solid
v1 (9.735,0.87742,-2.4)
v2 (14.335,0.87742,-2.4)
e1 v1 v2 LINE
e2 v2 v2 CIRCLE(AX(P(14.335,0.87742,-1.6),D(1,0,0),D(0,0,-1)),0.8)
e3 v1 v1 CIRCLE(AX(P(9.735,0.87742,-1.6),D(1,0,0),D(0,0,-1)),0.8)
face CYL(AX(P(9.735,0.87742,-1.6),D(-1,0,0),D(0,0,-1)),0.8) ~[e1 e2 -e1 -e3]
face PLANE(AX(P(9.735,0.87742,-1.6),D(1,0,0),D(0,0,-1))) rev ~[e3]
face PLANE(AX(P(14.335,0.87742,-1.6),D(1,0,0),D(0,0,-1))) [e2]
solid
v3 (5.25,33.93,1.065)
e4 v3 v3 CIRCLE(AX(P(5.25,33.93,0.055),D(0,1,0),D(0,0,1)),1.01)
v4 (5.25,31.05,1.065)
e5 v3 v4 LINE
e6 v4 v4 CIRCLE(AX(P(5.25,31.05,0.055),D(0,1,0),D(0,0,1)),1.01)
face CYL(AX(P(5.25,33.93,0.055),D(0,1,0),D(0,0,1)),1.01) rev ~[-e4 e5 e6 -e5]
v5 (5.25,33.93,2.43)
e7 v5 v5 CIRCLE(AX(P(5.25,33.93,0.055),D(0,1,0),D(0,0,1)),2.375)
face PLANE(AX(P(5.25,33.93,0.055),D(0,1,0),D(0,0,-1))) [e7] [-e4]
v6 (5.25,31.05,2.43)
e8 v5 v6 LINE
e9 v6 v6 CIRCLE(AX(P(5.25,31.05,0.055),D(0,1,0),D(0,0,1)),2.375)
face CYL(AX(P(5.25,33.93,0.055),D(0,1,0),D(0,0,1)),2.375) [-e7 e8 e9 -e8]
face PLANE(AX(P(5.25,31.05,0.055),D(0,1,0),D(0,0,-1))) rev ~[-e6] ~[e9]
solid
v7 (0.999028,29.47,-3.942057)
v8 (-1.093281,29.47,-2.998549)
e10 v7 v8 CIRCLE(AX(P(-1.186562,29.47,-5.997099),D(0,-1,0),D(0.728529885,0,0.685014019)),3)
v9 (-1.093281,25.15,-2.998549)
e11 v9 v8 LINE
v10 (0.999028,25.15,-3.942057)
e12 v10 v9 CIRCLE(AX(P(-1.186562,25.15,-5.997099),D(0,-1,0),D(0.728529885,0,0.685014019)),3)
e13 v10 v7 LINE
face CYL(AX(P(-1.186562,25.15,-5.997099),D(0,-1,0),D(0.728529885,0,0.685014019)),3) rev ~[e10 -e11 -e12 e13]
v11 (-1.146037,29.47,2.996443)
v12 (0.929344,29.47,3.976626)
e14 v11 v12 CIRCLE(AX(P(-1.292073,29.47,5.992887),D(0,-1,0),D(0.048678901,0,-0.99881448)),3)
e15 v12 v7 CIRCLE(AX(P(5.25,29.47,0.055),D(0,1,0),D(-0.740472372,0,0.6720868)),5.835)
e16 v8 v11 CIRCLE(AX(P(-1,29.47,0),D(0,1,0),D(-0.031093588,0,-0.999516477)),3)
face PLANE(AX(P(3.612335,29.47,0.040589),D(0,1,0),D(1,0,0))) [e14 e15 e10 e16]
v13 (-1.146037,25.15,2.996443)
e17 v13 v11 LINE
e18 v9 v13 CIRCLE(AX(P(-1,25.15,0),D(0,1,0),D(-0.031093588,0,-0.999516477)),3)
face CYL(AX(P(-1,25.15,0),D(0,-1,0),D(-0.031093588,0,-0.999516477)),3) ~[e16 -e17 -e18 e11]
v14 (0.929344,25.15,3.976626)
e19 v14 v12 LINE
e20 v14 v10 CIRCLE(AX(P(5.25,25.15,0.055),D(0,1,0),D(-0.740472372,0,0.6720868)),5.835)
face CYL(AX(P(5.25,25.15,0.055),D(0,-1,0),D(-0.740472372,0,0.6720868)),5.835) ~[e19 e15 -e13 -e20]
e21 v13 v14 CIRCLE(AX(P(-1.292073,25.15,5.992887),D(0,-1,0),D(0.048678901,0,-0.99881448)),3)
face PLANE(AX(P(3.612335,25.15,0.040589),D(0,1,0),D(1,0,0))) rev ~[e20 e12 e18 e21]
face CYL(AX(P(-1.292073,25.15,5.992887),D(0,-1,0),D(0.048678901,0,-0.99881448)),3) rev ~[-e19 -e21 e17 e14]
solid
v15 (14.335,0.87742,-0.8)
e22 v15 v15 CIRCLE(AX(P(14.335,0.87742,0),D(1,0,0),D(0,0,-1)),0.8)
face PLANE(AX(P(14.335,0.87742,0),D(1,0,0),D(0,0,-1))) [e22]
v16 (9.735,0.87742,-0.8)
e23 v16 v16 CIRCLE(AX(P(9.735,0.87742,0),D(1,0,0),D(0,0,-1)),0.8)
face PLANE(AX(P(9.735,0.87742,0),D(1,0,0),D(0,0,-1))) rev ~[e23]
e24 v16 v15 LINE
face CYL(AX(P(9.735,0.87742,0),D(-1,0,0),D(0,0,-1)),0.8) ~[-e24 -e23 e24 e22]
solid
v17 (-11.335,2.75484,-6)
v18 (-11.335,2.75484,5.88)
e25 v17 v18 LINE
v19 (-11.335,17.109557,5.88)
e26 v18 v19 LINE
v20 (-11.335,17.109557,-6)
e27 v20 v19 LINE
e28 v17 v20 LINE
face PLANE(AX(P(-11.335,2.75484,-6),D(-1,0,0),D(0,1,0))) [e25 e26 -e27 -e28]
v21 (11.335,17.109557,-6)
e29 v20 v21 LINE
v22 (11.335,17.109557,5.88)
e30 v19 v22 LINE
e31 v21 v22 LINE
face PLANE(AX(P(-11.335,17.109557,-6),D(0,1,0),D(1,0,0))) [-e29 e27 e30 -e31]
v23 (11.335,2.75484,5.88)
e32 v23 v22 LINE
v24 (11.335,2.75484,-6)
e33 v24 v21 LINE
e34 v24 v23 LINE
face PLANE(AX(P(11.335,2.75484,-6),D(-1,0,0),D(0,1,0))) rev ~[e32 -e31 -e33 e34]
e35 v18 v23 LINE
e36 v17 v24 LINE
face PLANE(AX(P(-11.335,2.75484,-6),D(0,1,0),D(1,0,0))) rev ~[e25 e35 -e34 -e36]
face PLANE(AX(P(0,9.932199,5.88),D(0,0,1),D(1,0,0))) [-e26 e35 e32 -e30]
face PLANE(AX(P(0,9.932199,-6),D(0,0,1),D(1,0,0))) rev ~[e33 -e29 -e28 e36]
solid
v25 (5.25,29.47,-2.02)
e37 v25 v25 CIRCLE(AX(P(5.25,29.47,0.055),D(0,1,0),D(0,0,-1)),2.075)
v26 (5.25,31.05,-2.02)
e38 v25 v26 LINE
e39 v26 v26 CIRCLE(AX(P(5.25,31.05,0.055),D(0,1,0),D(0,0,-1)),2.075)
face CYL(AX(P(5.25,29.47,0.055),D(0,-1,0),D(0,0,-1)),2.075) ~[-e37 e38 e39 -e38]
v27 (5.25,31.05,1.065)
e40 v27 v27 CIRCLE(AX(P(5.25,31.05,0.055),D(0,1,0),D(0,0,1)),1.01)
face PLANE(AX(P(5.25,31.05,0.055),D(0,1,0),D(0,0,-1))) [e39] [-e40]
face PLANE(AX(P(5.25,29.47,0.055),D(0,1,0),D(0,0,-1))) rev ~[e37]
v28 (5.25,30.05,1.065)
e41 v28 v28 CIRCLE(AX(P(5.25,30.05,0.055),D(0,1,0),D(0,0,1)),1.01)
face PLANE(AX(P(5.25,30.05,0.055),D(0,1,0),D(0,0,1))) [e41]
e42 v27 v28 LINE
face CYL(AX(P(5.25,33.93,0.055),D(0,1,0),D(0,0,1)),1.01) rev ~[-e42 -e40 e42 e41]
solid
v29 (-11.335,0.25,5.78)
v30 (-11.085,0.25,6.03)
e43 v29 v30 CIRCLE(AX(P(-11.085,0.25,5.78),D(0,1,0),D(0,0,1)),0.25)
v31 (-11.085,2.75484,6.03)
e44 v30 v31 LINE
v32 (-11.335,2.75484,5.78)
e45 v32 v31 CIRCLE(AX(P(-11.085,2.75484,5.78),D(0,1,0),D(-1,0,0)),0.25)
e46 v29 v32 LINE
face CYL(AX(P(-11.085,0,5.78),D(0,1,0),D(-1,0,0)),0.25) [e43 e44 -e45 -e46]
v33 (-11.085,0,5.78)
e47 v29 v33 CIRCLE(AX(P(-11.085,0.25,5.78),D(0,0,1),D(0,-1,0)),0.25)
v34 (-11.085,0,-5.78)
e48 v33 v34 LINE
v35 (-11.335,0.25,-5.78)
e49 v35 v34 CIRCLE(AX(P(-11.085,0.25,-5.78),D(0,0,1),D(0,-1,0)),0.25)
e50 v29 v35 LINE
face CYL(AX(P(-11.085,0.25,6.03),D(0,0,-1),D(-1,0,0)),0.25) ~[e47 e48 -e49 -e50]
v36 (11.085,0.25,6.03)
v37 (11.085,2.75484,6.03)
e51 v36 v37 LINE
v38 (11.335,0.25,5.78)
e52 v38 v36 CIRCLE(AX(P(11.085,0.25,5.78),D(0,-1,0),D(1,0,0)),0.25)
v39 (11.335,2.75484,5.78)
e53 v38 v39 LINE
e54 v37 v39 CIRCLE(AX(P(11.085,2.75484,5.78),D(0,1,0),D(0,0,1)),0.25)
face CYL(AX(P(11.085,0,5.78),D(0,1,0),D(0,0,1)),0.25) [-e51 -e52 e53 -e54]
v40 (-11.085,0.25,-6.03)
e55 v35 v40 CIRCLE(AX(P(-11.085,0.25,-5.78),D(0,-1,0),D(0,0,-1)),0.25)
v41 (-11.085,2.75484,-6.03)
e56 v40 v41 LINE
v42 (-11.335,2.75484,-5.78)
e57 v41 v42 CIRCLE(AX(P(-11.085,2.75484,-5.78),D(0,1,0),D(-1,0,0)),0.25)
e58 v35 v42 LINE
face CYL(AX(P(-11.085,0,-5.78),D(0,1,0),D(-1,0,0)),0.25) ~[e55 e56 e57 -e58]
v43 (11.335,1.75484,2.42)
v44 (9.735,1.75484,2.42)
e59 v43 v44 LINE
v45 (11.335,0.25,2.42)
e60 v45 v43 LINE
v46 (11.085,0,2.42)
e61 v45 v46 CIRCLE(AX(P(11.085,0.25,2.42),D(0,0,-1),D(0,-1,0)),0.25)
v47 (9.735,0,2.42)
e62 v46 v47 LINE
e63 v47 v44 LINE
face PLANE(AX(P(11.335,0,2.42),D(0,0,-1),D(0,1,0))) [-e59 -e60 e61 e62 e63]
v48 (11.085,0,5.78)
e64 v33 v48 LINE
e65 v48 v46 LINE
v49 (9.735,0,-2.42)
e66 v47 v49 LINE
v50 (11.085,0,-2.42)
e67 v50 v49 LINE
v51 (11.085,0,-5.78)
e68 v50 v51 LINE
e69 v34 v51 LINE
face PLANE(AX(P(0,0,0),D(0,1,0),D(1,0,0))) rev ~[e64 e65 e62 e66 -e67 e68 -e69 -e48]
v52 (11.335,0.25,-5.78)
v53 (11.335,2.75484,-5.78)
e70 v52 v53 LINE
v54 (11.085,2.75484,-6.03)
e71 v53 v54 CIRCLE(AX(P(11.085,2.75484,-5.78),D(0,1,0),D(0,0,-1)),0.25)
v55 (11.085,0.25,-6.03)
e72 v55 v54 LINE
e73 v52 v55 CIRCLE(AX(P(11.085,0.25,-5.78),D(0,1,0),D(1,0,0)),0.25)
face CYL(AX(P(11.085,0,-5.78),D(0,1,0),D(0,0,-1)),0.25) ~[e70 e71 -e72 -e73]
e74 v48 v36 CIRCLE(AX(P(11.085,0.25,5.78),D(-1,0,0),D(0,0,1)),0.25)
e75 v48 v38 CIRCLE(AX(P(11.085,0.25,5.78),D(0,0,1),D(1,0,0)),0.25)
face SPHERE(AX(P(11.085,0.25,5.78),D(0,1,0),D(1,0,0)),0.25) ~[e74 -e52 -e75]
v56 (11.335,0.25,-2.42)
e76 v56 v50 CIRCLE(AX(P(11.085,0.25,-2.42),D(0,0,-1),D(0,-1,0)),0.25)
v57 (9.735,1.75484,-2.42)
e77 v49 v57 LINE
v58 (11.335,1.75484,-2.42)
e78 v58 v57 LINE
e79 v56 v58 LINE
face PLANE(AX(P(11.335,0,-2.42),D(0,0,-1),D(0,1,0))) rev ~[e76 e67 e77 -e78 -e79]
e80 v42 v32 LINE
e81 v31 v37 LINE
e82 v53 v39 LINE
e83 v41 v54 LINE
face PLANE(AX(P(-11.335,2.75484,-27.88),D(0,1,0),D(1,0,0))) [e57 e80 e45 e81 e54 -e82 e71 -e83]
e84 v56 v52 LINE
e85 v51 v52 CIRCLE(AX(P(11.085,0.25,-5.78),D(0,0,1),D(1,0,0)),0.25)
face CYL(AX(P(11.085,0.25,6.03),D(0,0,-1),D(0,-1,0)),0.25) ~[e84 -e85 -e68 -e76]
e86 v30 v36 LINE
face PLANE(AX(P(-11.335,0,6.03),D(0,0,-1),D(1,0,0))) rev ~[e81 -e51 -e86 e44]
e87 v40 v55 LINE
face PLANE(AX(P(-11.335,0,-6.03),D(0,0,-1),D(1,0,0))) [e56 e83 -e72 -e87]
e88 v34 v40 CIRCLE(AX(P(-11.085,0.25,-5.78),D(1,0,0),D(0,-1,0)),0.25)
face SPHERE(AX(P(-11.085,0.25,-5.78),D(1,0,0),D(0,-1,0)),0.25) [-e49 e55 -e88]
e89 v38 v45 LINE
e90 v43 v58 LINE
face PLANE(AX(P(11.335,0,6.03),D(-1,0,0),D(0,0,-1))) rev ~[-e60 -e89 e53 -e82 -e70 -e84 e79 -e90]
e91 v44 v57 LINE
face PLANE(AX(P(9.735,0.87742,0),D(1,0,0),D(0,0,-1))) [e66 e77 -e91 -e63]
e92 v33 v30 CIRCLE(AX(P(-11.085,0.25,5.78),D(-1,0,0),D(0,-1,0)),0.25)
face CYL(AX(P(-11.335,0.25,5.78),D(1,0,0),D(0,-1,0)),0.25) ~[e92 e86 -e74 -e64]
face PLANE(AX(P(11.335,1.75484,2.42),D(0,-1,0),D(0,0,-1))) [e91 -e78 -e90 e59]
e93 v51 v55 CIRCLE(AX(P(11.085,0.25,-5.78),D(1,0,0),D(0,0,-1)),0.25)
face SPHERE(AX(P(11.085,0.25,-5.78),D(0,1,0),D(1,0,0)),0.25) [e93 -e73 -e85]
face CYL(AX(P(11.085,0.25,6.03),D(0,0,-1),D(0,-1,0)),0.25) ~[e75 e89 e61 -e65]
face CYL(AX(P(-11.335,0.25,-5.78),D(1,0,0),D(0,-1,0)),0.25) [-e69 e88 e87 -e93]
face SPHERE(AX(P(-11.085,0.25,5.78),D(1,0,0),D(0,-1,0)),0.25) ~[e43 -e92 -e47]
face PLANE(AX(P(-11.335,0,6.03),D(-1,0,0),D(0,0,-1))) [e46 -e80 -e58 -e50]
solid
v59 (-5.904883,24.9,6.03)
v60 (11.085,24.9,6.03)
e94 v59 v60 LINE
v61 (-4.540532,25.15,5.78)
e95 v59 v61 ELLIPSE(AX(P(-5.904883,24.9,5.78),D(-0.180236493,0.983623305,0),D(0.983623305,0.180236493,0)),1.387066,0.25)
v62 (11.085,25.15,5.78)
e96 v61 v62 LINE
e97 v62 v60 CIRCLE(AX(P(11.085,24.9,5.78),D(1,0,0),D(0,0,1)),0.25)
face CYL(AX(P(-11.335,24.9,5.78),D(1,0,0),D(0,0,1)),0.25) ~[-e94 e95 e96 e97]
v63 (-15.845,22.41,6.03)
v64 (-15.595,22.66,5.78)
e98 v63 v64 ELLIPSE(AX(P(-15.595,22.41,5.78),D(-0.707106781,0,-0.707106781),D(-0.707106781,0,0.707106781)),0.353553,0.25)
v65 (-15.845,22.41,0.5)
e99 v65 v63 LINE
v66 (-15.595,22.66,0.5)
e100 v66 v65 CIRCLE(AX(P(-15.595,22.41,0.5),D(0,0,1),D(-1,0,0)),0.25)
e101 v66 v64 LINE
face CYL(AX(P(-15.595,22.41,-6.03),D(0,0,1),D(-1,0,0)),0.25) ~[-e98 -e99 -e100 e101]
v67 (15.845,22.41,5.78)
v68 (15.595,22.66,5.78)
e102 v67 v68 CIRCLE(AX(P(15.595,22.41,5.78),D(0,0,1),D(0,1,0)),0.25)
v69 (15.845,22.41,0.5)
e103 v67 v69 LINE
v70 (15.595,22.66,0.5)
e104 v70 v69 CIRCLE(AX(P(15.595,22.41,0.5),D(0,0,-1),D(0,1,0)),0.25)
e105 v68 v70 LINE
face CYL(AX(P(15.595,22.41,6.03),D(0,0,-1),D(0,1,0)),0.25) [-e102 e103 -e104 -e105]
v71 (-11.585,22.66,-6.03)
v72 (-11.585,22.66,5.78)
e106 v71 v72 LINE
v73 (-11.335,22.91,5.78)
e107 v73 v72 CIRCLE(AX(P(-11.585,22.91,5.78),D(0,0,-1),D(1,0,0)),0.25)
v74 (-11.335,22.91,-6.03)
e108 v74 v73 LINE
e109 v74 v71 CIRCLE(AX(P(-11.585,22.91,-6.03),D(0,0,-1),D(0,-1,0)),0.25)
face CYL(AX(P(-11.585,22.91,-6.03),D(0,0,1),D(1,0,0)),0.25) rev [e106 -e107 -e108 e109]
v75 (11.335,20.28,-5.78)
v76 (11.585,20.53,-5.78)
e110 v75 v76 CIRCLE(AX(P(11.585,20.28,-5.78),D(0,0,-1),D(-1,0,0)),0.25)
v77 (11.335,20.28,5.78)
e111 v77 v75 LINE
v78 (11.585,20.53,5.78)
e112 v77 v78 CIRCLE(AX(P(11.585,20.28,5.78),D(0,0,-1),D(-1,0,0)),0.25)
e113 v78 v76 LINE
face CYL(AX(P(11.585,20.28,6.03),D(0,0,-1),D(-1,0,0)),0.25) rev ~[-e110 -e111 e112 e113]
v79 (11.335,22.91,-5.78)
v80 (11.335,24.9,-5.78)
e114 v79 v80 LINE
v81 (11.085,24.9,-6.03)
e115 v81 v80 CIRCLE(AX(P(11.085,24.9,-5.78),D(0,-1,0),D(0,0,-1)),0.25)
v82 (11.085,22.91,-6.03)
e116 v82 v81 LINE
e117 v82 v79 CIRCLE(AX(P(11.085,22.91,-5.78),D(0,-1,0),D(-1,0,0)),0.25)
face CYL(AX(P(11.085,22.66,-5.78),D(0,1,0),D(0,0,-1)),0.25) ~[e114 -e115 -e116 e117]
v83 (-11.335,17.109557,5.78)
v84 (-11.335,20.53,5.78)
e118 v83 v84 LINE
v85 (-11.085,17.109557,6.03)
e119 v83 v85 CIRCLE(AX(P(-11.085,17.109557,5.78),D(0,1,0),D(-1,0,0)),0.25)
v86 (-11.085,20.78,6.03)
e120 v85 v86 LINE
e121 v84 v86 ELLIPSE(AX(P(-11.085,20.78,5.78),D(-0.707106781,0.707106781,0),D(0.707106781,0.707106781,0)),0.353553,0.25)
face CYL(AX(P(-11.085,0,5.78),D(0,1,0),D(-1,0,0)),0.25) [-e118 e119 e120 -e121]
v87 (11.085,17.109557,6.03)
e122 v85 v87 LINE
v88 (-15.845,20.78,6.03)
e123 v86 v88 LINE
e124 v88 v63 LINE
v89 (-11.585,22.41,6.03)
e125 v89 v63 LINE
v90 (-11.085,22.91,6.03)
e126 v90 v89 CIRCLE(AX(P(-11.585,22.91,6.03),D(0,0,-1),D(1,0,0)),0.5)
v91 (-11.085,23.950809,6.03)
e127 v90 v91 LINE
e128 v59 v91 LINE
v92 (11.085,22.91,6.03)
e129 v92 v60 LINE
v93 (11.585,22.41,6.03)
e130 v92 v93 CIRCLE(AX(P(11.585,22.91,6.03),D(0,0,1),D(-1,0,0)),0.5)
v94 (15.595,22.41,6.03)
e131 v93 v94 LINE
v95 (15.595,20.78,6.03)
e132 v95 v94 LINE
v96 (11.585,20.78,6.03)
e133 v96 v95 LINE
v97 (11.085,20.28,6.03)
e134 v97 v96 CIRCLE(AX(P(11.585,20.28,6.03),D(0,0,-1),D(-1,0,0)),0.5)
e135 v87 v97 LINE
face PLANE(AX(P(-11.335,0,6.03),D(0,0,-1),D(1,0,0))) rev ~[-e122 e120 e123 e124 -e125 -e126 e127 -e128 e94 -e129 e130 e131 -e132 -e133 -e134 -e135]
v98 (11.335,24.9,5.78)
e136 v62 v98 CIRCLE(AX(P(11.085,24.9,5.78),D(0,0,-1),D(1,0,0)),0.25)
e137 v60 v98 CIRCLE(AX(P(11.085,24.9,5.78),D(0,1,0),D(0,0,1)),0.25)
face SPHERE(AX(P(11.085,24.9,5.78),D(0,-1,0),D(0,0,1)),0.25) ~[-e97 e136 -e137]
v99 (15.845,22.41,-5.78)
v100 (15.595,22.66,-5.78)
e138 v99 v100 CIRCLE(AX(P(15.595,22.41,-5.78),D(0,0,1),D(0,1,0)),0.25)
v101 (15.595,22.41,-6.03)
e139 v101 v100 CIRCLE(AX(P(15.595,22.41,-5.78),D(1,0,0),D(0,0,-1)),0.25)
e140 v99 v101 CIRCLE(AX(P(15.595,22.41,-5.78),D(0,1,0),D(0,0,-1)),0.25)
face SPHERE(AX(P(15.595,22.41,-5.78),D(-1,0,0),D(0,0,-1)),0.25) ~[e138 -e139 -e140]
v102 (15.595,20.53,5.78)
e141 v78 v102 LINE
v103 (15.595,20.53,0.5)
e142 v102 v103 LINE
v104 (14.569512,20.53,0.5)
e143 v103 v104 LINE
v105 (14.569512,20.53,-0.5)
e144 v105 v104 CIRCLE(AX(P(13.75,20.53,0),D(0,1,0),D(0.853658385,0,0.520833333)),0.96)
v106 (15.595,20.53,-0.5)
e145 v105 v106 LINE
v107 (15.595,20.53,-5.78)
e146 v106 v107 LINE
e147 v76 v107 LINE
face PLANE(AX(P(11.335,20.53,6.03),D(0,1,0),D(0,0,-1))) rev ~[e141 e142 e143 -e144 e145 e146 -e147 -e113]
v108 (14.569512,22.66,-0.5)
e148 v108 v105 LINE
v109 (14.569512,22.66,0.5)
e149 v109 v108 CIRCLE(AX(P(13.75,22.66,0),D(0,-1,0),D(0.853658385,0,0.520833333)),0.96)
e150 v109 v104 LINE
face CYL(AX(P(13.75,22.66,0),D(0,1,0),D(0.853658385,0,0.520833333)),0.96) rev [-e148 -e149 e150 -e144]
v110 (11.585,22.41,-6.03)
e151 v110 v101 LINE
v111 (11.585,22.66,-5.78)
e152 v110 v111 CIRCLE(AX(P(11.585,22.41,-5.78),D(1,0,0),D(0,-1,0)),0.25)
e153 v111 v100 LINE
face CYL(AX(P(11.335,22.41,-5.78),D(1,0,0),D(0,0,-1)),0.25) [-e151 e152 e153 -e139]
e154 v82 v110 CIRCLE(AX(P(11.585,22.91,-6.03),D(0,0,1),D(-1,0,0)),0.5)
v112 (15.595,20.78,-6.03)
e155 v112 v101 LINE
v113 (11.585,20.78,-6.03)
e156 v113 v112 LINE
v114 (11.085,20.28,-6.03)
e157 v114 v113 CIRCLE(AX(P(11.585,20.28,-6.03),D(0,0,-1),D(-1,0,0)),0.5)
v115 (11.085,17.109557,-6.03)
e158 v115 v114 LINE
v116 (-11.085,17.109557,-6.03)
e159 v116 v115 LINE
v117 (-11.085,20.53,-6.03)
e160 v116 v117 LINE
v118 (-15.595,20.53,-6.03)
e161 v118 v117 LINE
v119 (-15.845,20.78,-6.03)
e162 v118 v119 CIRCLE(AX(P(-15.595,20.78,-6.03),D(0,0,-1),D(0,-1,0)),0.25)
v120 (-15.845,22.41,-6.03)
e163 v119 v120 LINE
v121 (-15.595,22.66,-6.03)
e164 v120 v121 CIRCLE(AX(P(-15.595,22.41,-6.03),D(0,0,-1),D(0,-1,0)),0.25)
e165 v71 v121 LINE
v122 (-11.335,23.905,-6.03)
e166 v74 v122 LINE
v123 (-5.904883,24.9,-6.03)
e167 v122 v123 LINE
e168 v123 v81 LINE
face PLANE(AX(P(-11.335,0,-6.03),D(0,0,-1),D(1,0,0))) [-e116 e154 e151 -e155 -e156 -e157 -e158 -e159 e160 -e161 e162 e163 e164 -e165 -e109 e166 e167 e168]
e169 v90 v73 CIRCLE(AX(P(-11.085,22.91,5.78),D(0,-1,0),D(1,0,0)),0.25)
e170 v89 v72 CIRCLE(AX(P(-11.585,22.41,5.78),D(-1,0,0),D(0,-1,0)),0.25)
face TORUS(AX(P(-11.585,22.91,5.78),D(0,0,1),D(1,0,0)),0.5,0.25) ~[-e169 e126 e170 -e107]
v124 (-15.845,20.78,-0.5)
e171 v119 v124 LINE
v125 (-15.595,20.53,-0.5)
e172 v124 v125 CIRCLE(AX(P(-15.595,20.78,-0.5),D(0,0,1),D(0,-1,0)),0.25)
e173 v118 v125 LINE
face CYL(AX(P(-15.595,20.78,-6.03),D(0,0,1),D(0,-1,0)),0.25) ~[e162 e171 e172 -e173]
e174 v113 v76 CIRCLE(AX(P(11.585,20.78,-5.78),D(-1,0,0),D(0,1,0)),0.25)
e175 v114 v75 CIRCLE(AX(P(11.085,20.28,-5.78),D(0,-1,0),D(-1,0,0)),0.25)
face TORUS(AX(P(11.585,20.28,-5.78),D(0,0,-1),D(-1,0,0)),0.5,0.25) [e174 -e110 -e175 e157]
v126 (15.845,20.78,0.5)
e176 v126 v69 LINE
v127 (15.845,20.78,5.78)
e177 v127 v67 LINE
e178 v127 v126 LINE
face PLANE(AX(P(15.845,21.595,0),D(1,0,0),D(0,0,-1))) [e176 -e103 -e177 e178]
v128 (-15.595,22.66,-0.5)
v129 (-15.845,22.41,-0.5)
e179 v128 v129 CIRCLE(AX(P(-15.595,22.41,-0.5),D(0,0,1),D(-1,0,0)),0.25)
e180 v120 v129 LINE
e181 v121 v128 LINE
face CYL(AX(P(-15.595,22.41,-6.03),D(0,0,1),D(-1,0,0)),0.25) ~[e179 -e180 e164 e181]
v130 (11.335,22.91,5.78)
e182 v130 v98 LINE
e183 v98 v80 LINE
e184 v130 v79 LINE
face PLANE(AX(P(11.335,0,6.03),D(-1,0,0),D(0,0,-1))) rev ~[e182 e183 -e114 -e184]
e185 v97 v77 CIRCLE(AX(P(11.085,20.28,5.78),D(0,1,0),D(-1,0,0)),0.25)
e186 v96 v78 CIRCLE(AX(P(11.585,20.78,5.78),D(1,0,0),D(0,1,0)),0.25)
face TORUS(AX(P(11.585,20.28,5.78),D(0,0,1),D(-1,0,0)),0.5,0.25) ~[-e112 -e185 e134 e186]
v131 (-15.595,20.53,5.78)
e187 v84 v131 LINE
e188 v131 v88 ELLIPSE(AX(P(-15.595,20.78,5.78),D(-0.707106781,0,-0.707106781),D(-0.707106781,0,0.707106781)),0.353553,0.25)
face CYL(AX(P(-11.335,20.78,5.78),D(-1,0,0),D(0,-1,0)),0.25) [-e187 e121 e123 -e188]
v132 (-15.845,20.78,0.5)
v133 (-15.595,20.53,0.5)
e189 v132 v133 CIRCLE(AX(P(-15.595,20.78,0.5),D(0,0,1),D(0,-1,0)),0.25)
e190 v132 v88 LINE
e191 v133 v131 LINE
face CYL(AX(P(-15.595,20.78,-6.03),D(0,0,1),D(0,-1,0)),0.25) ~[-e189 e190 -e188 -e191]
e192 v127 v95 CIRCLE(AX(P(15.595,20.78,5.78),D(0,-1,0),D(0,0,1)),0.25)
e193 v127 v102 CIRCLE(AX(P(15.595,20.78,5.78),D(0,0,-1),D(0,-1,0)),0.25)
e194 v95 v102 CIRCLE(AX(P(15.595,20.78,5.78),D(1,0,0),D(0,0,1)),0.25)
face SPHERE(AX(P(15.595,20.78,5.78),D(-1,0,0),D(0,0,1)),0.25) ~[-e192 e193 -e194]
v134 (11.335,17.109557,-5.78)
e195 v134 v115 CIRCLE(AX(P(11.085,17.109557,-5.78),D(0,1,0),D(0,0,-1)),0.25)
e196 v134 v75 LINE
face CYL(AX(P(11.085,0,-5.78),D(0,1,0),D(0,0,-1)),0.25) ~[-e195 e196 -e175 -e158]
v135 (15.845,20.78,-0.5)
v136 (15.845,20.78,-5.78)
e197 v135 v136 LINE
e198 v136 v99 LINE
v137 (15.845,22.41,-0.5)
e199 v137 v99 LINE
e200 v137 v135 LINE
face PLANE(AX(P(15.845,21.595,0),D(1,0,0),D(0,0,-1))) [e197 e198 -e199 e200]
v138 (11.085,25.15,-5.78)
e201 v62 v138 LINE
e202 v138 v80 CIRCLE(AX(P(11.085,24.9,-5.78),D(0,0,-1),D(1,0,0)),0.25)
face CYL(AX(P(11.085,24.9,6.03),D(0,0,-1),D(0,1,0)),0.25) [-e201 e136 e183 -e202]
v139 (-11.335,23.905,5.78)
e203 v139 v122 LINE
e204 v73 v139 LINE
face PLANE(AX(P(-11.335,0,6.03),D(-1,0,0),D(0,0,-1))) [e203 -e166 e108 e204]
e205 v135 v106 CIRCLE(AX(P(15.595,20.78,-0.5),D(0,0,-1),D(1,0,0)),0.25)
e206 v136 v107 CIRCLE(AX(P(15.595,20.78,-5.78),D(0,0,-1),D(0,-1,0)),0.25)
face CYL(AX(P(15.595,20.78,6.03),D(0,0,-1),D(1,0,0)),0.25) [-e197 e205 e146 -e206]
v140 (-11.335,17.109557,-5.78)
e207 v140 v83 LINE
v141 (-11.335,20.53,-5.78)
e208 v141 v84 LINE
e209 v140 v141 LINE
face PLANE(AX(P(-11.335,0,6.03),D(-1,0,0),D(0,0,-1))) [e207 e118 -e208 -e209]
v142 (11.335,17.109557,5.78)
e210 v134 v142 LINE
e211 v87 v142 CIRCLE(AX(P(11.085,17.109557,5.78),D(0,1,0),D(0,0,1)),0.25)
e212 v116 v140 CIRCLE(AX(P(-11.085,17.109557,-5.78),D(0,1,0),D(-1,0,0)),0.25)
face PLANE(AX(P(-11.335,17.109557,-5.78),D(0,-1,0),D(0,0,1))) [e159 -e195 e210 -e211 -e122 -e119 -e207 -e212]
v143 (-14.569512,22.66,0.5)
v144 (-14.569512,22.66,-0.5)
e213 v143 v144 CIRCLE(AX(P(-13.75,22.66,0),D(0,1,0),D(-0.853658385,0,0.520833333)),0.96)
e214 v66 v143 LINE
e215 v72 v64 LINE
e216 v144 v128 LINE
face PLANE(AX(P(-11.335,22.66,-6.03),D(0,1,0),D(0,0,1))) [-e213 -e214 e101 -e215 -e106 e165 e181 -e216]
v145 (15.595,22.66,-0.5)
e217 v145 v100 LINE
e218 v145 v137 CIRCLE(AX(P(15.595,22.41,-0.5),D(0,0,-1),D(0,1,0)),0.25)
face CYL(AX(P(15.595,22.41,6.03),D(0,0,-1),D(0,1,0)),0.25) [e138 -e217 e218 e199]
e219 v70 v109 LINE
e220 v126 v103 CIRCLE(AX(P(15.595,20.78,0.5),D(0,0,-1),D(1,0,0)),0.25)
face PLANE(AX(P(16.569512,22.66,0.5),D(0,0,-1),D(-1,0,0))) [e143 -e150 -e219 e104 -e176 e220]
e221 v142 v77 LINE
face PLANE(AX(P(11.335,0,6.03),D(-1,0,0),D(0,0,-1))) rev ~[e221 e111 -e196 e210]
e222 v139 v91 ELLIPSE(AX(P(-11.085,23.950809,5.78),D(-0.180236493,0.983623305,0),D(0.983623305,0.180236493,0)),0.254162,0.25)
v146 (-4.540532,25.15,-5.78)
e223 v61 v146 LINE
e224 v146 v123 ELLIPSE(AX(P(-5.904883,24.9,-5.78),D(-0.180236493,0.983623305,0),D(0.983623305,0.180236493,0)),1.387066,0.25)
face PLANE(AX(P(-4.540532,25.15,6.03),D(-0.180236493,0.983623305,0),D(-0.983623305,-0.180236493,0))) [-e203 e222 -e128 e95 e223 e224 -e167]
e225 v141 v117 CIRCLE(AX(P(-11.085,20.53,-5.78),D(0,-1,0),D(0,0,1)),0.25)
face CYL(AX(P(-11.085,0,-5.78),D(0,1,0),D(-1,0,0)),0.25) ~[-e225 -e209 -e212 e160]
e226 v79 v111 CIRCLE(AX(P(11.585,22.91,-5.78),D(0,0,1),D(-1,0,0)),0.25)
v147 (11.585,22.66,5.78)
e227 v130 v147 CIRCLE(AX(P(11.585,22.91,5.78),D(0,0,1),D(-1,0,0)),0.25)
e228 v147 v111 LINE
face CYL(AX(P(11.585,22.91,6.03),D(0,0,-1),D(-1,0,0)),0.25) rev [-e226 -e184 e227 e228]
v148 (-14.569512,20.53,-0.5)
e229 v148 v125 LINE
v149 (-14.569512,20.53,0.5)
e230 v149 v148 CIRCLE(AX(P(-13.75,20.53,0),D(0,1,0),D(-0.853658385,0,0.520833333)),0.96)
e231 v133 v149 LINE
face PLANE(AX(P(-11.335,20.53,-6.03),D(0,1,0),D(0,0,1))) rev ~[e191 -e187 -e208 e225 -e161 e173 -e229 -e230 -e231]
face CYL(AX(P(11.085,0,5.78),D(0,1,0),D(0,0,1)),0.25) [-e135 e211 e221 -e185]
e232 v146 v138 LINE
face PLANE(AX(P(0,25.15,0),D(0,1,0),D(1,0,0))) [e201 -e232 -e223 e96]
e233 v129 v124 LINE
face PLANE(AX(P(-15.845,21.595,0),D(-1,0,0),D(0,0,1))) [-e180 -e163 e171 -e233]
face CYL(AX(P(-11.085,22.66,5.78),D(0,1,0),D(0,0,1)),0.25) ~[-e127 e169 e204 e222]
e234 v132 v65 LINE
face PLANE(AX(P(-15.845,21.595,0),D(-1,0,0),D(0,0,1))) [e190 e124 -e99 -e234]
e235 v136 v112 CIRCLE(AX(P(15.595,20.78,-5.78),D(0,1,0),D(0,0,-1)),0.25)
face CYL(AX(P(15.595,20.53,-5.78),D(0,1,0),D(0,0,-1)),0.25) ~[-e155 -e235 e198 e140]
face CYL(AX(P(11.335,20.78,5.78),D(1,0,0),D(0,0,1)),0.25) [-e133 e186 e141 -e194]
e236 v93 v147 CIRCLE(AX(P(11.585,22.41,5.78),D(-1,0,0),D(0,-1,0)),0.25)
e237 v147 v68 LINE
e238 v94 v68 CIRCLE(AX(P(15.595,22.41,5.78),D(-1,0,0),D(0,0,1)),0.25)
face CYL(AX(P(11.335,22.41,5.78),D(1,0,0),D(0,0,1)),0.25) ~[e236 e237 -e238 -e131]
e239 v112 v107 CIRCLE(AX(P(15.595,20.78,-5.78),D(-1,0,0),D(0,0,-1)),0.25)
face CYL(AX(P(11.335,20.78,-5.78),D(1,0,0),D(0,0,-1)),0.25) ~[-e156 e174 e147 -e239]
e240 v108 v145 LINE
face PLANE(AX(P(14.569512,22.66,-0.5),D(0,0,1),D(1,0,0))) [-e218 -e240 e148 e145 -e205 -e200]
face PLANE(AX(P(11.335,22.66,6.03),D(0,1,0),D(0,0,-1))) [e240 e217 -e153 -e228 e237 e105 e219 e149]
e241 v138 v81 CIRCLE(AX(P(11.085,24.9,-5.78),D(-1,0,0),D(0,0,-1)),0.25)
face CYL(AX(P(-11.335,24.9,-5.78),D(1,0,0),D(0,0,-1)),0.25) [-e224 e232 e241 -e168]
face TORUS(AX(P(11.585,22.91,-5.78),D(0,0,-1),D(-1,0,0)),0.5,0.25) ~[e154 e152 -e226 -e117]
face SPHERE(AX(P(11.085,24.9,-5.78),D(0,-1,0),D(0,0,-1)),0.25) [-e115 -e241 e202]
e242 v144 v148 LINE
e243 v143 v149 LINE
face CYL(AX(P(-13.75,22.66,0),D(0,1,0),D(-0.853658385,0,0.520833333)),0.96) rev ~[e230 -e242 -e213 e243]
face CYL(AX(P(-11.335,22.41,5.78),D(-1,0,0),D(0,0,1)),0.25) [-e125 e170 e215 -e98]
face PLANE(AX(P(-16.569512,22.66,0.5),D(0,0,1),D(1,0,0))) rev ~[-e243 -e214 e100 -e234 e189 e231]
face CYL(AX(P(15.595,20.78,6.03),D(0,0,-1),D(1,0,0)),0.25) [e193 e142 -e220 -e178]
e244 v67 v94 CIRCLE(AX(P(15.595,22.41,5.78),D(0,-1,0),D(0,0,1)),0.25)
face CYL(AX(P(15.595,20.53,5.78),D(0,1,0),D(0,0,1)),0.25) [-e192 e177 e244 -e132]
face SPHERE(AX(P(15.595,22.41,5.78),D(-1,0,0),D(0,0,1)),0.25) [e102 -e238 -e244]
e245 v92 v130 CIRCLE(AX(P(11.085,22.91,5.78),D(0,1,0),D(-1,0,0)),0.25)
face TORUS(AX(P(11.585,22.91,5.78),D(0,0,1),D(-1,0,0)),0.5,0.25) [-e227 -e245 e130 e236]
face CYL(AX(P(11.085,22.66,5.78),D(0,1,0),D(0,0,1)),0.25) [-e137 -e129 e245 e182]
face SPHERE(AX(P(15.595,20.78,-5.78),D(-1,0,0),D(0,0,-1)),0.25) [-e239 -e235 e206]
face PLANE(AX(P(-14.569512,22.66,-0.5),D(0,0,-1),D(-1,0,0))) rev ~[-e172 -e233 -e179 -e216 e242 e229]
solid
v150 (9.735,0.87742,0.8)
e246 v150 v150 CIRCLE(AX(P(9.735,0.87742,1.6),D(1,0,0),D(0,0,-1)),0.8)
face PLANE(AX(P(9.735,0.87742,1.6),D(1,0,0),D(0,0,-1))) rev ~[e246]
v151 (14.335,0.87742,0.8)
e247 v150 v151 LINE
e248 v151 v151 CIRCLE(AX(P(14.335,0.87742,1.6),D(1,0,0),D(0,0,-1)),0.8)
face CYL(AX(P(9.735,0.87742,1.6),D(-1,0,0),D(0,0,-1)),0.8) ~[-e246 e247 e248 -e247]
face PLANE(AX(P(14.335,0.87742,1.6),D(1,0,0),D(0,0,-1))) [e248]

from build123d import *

# Parameters (mm, degrees)
CROQUIS1_W                   = 22.67
CROQUIS1_H                   = 12.06
SALIENTE_EXTRUIR1_DEPTH      = 25.15
CROQUIS2_W                   = 12.06
CROQUIS2_H                   = 2.13
SALIENTE_EXTRUIR2_DEPTH      = 4.51
CROQUIS5_W                   = 12.06
CROQUIS5_H                   = 2.13
SALIENTE_EXTRUIR3_DEPTH      = 4.51
REDONDEO1_R                  = 0.25
CORTAR_EXTRUIR12_DEPTH       = 4.51
SALIENTE_EXTRUIR4_DEPTH      = 4.32
CROQUIS9_R                   = 2.075
SALIENTE_EXTRUIR5_DEPTH      = 1.58
CROQUIS10_R                  = 2.385
SALIENTE_EXTRUIR6_DEPTH      = 2.88
CROQUIS11_R                  = 1.01
CORTAR_EXTRUIR13_DEPTH       = 3.88
CROQUIS12_R                  = 2.385
CROQUIS12_R_2                = 2.375
CORTAR_EXTRUIR14_DEPTH       = 2.88
CORTAR_EXTRUIR15_DEPTH       = 16.88
CROQUIS14_W                  = 22.17
CROQUIS14_H                  = 14.33
CORTAR_EXTRUIR16_DEPTH       = 16.88
CROQUIS16_W                  = 11.56
CROQUIS16_H                  = 14.354716837
CORTAR_EXTRUIR17_DEPTH       = 27.88
CORTAR_EXTRUIR18_DEPTH       = 27.88
CORTAR_EXTRUIR18_DEPTH_BACK  = 27.88
CROQUIS17_W                  = 22.67
CROQUIS17_H                  = 14.354716837
SALIENTE_EXTRUIR7_DEPTH      = 5.88
SALIENTE_EXTRUIR7_DEPTH_BACK = 6
CROQUIS18_W                  = 22.67
CROQUIS18_H                  = 14.354716837
CROQUIS19_W                  = 4.84
CROQUIS19_H                  = 1.754840309
CORTAR_EXTRUIR19_DEPTH       = 1.6
SALIENTE_EXTRUIR8_DEPTH      = 4.6
CROQUIS20_R                  = 0.8
SALIENTE_EXTRUIR8_2_DEPTH    = 4.6
SALIENTE_EXTRUIR8_3_DEPTH    = 4.6


with BuildPart() as part:
    # Croquis1 → Saliente-Extruir1 (new body)
    with BuildSketch(Plane(origin=(0, 0, 0), x_dir=(1, 0, 0), z_dir=(0, 1, 0))):
        Rectangle(CROQUIS1_W, CROQUIS1_H)
    extrude(amount=SALIENTE_EXTRUIR1_DEPTH)

    # Croquis2 → Saliente-Extruir2 (add)
    with BuildSketch(Plane(origin=(11.335, 0, 0), x_dir=(0, 0, -1), z_dir=(1, 0, 0))):
        with Locations((0, 21.595)):
            Rectangle(CROQUIS2_W, CROQUIS2_H)
    extrude(amount=SALIENTE_EXTRUIR2_DEPTH)

    # Croquis5 → Saliente-Extruir3 (add)
    with BuildSketch(Plane.ZY.offset(11.335)):
        with Locations((0, 21.595)):
            Rectangle(CROQUIS5_W, CROQUIS5_H)
    extrude(amount=SALIENTE_EXTRUIR3_DEPTH)

    # Redondeo1
    redondeo1_edges = [part.edges().sort_by_distance(p)[0] for p in [
        (-11.335, 23.905, 6.03),
        (11.335, 10.265, 6.03),
        (11.335, 23.905, 6.03),
        (11.335, 23.905, -6.03),
        (11.335, 10.265, -6.03),
        (11.335, 0, 0),
        (0, 0, -6.03),
        (0, 0, 6.03),
        (-11.335, 0, 0),
        (-11.335, 10.265, -6.03),
        (-11.335, 10.265, 6.03),
        (-13.59, 20.53, 6.03),
        (-13.59, 22.66, 6.03),
        (0, 25.15, -6.03),
        (0, 25.15, 6.03),
        (-11.335, 22.66, 0),
        (-11.335, 25.15, 0),
        (11.335, 25.15, 0),
        (13.59, 20.53, 6.03),
        (13.59, 22.66, 6.03),
        (13.59, 22.66, -6.03),
        (13.59, 20.53, -6.03),
        (11.335, 20.53, 0),
        (11.335, 22.66, 0),
        (15.845, 21.595, -6.03),
        (15.845, 21.595, 6.03),
        (15.845, 20.53, 0),
        (15.845, 22.66, 0),
        (-15.845, 20.53, 0),
        (-15.845, 22.66, 0),
    ]]
    fillet(redondeo1_edges, radius=REDONDEO1_R)

    # Croquis6 → Cortar-Extruir12 (cut)
    with BuildSketch(Plane(origin=(0, 22.66, 0), x_dir=(1, 0, 0), z_dir=(0, 1, 0))):
        with BuildLine():
            Line((-14.56951205, 0.5), (-16.56951205, 0.5))
            Line((-16.56951205, 0.5), (-16.56951205, -0.5))
            Line((-16.56951205, -0.5), (-14.56951205, -0.5))
            ThreePointArc((-14.56951205, -0.5), (-12.79, 0), (-14.56951205, 0.5))
        make_face()
        with BuildLine():
            Line((14.56951205, 0.5), (16.56951205, 0.5))
            Line((16.56951205, 0.5), (16.56951205, -0.5))
            Line((16.56951205, -0.5), (14.56951205, -0.5))
            ThreePointArc((14.56951205, -0.5), (12.79, 0), (14.56951205, 0.5))
        make_face()
    extrude(amount=-CORTAR_EXTRUIR12_DEPTH, mode=Mode.SUBTRACT)

    # Croquis13 → Cortar-Extruir15 (cut)
    with BuildSketch(Plane.XY.offset(6.03)):
        Polygon((-4.540532383, 25.15), (-11.335, 23.905), (-11.335, 25.15), align=None)
    extrude(amount=-CORTAR_EXTRUIR15_DEPTH, mode=Mode.SUBTRACT)

    # Croquis14 → Cortar-Extruir16 (cut)
    with BuildSketch(Plane.XY.offset(6.03)):
        with Locations((0, 9.935)):
            Rectangle(CROQUIS14_W, CROQUIS14_H)
    extrude(amount=-CORTAR_EXTRUIR16_DEPTH, mode=Mode.SUBTRACT)

    # Croquis16 → Cortar-Extruir17 (cut)
    with BuildSketch(Plane.ZY.offset(11.335)):
        with Locations((0, 9.932198727)):
            Rectangle(CROQUIS16_W, CROQUIS16_H)
    extrude(amount=-CORTAR_EXTRUIR17_DEPTH, mode=Mode.SUBTRACT)

    # Croquis17 → Cortar-Extruir18 (cut, two sides: drawn at the far end of the back side and taken through both)
    with BuildSketch(Plane.XY.offset(-CORTAR_EXTRUIR18_DEPTH_BACK)):
        with Locations((0, 9.932198727)):
            Rectangle(CROQUIS17_W, CROQUIS17_H)
    extrude(amount=CORTAR_EXTRUIR18_DEPTH + CORTAR_EXTRUIR18_DEPTH_BACK, mode=Mode.SUBTRACT)


with BuildPart() as body_2:
    # Croquis8 → Saliente-Extruir4 (new body)
    with BuildSketch(Plane(origin=(0, 25.15, 0), x_dir=(1, 0, 0), z_dir=(0, 1, 0))):
        with BuildLine():
            ThreePointArc((0.929343711, -3.976626478), (11.084774082, -0.106346012), (0.999028124, 3.942056806))
            ThreePointArc((0.999028124, 3.942056806), (0.046671675, 3.262297983), (-1.093280765, 2.998549432))
            ThreePointArc((-1.093280765, 2.998549432), (-3.999883847, 0.026398978), (-1.146036702, -2.996443439))
            ThreePointArc((-1.146036702, -2.996443439), (-0.01090242, -3.280212753), (0.929343711, -3.976626478))
        make_face()
    extrude(amount=SALIENTE_EXTRUIR4_DEPTH)


with BuildPart() as body_3:
    # Croquis9 → Saliente-Extruir5 (new body)
    with BuildSketch(Plane(origin=(0, 29.47, 0), x_dir=(1, 0, 0), z_dir=(0, 1, 0))):
        with Locations((5.25, -0.055)):
            Circle(CROQUIS9_R)
    extrude(amount=SALIENTE_EXTRUIR5_DEPTH)


with BuildPart() as body_4:
    # Croquis10 → Saliente-Extruir6 (new body)
    with BuildSketch(Plane(origin=(0, 31.05, 0), x_dir=(1, 0, 0), z_dir=(0, 1, 0))):
        with Locations((5.25, -0.055)):
            Circle(CROQUIS10_R)
    extrude(amount=SALIENTE_EXTRUIR6_DEPTH)


with BuildPart() as cortar_extruir13_tool:
    # Croquis11 → Cortar-Extruir13 (new body)
    with BuildSketch(Plane(origin=(0, 33.93, 0), x_dir=(1, 0, 0), z_dir=(0, 1, 0))):
        with Locations((5.25, -0.055)):
            Circle(CROQUIS11_R)
    extrude(amount=-CORTAR_EXTRUIR13_DEPTH)


with BuildPart() as body_3_1:
    add(body_3.part)

    # Cortar-Extruir13: cut by cortar_extruir13_tool
    add(cortar_extruir13_tool.part, mode=Mode.SUBTRACT)


with BuildPart() as body_4_1:
    add(body_4.part)

    # Cortar-Extruir13: cut by cortar_extruir13_tool
    add(cortar_extruir13_tool.part, mode=Mode.SUBTRACT)

    # Croquis12 → Cortar-Extruir14 (cut)
    with BuildSketch(Plane(origin=(0, 33.93, 0), x_dir=(1, 0, 0), z_dir=(0, 1, 0))):
        with Locations((5.25, -0.055)):
            Circle(CROQUIS12_R)
        with Locations((5.25, -0.055)):
            Circle(CROQUIS12_R_2, mode=Mode.SUBTRACT)
    extrude(amount=-CORTAR_EXTRUIR14_DEPTH, mode=Mode.SUBTRACT)


with BuildPart() as cortar_extruir18_piece_1:
    # of the separate pieces the step leaves, piece 1, a body of its own (cortar_extruir18_pieces)
    add(part.part.solids().sort_by_distance((-11.085, 17.109557146, -6.03))[0])


with BuildPart() as cortar_extruir18_piece_2:
    # of the separate pieces the step leaves, piece 2, a body of its own (cortar_extruir18_pieces)
    add(part.part.solids().sort_by_distance((11.085, 0.25, -6.03))[0])

    # Croquis19 → Cortar-Extruir19 (cut)
    with BuildSketch(Plane(origin=(11.335, 0, 0), x_dir=(0, 0, -1), z_dir=(1, 0, 0))):
        with Locations((0, 0.877420155)):
            Rectangle(CROQUIS19_W, CROQUIS19_H)
    extrude(amount=-CORTAR_EXTRUIR19_DEPTH, mode=Mode.SUBTRACT)


with BuildPart() as body_6:
    # Croquis18 → Saliente-Extruir7 (new, two sides: drawn at the far end of the back side and taken through both)
    with BuildSketch(Plane.XY.offset(-SALIENTE_EXTRUIR7_DEPTH_BACK)):
        with Locations((0, 9.932198727)):
            Rectangle(CROQUIS18_W, CROQUIS18_H)
    extrude(amount=SALIENTE_EXTRUIR7_DEPTH + SALIENTE_EXTRUIR7_DEPTH_BACK)


with BuildPart() as body_7:
    # Croquis20 → Saliente-Extruir8 (new body)
    with BuildSketch(Plane(origin=(9.735, 0, 0), x_dir=(0, 0, -1), z_dir=(1, 0, 0))):
        with BuildLine():
            ThreePointArc((-0.8, 0.877420155), (0, 0.077420155), (0.8, 0.877420155))
            ThreePointArc((0.8, 0.877420155), (0, 1.677420155), (-0.8, 0.877420155))
        make_face()
    extrude(amount=SALIENTE_EXTRUIR8_DEPTH)


with BuildPart() as body_8:
    # Croquis20 → Saliente-Extruir8 2 (new body)
    with BuildSketch(Plane(origin=(9.735, 0, 0), x_dir=(0, 0, -1), z_dir=(1, 0, 0))):
        with Locations((-1.6, 0.877420155)):
            Circle(CROQUIS20_R)
    extrude(amount=SALIENTE_EXTRUIR8_2_DEPTH)


with BuildPart() as body_9:
    # Croquis20 → Saliente-Extruir8 3 (new body)
    with BuildSketch(Plane(origin=(9.735, 0, 0), x_dir=(0, 0, -1), z_dir=(1, 0, 0))):
        with Locations((1.6, 0.877420155)):
            Circle(CROQUIS20_R)
    extrude(amount=SALIENTE_EXTRUIR8_3_DEPTH)


solid = Compound([body_2.part, body_3_1.part, body_4_1.part, cortar_extruir18_piece_1.part, cortar_extruir18_piece_2.part, body_6.part, body_7.part, body_8.part, body_9.part])
